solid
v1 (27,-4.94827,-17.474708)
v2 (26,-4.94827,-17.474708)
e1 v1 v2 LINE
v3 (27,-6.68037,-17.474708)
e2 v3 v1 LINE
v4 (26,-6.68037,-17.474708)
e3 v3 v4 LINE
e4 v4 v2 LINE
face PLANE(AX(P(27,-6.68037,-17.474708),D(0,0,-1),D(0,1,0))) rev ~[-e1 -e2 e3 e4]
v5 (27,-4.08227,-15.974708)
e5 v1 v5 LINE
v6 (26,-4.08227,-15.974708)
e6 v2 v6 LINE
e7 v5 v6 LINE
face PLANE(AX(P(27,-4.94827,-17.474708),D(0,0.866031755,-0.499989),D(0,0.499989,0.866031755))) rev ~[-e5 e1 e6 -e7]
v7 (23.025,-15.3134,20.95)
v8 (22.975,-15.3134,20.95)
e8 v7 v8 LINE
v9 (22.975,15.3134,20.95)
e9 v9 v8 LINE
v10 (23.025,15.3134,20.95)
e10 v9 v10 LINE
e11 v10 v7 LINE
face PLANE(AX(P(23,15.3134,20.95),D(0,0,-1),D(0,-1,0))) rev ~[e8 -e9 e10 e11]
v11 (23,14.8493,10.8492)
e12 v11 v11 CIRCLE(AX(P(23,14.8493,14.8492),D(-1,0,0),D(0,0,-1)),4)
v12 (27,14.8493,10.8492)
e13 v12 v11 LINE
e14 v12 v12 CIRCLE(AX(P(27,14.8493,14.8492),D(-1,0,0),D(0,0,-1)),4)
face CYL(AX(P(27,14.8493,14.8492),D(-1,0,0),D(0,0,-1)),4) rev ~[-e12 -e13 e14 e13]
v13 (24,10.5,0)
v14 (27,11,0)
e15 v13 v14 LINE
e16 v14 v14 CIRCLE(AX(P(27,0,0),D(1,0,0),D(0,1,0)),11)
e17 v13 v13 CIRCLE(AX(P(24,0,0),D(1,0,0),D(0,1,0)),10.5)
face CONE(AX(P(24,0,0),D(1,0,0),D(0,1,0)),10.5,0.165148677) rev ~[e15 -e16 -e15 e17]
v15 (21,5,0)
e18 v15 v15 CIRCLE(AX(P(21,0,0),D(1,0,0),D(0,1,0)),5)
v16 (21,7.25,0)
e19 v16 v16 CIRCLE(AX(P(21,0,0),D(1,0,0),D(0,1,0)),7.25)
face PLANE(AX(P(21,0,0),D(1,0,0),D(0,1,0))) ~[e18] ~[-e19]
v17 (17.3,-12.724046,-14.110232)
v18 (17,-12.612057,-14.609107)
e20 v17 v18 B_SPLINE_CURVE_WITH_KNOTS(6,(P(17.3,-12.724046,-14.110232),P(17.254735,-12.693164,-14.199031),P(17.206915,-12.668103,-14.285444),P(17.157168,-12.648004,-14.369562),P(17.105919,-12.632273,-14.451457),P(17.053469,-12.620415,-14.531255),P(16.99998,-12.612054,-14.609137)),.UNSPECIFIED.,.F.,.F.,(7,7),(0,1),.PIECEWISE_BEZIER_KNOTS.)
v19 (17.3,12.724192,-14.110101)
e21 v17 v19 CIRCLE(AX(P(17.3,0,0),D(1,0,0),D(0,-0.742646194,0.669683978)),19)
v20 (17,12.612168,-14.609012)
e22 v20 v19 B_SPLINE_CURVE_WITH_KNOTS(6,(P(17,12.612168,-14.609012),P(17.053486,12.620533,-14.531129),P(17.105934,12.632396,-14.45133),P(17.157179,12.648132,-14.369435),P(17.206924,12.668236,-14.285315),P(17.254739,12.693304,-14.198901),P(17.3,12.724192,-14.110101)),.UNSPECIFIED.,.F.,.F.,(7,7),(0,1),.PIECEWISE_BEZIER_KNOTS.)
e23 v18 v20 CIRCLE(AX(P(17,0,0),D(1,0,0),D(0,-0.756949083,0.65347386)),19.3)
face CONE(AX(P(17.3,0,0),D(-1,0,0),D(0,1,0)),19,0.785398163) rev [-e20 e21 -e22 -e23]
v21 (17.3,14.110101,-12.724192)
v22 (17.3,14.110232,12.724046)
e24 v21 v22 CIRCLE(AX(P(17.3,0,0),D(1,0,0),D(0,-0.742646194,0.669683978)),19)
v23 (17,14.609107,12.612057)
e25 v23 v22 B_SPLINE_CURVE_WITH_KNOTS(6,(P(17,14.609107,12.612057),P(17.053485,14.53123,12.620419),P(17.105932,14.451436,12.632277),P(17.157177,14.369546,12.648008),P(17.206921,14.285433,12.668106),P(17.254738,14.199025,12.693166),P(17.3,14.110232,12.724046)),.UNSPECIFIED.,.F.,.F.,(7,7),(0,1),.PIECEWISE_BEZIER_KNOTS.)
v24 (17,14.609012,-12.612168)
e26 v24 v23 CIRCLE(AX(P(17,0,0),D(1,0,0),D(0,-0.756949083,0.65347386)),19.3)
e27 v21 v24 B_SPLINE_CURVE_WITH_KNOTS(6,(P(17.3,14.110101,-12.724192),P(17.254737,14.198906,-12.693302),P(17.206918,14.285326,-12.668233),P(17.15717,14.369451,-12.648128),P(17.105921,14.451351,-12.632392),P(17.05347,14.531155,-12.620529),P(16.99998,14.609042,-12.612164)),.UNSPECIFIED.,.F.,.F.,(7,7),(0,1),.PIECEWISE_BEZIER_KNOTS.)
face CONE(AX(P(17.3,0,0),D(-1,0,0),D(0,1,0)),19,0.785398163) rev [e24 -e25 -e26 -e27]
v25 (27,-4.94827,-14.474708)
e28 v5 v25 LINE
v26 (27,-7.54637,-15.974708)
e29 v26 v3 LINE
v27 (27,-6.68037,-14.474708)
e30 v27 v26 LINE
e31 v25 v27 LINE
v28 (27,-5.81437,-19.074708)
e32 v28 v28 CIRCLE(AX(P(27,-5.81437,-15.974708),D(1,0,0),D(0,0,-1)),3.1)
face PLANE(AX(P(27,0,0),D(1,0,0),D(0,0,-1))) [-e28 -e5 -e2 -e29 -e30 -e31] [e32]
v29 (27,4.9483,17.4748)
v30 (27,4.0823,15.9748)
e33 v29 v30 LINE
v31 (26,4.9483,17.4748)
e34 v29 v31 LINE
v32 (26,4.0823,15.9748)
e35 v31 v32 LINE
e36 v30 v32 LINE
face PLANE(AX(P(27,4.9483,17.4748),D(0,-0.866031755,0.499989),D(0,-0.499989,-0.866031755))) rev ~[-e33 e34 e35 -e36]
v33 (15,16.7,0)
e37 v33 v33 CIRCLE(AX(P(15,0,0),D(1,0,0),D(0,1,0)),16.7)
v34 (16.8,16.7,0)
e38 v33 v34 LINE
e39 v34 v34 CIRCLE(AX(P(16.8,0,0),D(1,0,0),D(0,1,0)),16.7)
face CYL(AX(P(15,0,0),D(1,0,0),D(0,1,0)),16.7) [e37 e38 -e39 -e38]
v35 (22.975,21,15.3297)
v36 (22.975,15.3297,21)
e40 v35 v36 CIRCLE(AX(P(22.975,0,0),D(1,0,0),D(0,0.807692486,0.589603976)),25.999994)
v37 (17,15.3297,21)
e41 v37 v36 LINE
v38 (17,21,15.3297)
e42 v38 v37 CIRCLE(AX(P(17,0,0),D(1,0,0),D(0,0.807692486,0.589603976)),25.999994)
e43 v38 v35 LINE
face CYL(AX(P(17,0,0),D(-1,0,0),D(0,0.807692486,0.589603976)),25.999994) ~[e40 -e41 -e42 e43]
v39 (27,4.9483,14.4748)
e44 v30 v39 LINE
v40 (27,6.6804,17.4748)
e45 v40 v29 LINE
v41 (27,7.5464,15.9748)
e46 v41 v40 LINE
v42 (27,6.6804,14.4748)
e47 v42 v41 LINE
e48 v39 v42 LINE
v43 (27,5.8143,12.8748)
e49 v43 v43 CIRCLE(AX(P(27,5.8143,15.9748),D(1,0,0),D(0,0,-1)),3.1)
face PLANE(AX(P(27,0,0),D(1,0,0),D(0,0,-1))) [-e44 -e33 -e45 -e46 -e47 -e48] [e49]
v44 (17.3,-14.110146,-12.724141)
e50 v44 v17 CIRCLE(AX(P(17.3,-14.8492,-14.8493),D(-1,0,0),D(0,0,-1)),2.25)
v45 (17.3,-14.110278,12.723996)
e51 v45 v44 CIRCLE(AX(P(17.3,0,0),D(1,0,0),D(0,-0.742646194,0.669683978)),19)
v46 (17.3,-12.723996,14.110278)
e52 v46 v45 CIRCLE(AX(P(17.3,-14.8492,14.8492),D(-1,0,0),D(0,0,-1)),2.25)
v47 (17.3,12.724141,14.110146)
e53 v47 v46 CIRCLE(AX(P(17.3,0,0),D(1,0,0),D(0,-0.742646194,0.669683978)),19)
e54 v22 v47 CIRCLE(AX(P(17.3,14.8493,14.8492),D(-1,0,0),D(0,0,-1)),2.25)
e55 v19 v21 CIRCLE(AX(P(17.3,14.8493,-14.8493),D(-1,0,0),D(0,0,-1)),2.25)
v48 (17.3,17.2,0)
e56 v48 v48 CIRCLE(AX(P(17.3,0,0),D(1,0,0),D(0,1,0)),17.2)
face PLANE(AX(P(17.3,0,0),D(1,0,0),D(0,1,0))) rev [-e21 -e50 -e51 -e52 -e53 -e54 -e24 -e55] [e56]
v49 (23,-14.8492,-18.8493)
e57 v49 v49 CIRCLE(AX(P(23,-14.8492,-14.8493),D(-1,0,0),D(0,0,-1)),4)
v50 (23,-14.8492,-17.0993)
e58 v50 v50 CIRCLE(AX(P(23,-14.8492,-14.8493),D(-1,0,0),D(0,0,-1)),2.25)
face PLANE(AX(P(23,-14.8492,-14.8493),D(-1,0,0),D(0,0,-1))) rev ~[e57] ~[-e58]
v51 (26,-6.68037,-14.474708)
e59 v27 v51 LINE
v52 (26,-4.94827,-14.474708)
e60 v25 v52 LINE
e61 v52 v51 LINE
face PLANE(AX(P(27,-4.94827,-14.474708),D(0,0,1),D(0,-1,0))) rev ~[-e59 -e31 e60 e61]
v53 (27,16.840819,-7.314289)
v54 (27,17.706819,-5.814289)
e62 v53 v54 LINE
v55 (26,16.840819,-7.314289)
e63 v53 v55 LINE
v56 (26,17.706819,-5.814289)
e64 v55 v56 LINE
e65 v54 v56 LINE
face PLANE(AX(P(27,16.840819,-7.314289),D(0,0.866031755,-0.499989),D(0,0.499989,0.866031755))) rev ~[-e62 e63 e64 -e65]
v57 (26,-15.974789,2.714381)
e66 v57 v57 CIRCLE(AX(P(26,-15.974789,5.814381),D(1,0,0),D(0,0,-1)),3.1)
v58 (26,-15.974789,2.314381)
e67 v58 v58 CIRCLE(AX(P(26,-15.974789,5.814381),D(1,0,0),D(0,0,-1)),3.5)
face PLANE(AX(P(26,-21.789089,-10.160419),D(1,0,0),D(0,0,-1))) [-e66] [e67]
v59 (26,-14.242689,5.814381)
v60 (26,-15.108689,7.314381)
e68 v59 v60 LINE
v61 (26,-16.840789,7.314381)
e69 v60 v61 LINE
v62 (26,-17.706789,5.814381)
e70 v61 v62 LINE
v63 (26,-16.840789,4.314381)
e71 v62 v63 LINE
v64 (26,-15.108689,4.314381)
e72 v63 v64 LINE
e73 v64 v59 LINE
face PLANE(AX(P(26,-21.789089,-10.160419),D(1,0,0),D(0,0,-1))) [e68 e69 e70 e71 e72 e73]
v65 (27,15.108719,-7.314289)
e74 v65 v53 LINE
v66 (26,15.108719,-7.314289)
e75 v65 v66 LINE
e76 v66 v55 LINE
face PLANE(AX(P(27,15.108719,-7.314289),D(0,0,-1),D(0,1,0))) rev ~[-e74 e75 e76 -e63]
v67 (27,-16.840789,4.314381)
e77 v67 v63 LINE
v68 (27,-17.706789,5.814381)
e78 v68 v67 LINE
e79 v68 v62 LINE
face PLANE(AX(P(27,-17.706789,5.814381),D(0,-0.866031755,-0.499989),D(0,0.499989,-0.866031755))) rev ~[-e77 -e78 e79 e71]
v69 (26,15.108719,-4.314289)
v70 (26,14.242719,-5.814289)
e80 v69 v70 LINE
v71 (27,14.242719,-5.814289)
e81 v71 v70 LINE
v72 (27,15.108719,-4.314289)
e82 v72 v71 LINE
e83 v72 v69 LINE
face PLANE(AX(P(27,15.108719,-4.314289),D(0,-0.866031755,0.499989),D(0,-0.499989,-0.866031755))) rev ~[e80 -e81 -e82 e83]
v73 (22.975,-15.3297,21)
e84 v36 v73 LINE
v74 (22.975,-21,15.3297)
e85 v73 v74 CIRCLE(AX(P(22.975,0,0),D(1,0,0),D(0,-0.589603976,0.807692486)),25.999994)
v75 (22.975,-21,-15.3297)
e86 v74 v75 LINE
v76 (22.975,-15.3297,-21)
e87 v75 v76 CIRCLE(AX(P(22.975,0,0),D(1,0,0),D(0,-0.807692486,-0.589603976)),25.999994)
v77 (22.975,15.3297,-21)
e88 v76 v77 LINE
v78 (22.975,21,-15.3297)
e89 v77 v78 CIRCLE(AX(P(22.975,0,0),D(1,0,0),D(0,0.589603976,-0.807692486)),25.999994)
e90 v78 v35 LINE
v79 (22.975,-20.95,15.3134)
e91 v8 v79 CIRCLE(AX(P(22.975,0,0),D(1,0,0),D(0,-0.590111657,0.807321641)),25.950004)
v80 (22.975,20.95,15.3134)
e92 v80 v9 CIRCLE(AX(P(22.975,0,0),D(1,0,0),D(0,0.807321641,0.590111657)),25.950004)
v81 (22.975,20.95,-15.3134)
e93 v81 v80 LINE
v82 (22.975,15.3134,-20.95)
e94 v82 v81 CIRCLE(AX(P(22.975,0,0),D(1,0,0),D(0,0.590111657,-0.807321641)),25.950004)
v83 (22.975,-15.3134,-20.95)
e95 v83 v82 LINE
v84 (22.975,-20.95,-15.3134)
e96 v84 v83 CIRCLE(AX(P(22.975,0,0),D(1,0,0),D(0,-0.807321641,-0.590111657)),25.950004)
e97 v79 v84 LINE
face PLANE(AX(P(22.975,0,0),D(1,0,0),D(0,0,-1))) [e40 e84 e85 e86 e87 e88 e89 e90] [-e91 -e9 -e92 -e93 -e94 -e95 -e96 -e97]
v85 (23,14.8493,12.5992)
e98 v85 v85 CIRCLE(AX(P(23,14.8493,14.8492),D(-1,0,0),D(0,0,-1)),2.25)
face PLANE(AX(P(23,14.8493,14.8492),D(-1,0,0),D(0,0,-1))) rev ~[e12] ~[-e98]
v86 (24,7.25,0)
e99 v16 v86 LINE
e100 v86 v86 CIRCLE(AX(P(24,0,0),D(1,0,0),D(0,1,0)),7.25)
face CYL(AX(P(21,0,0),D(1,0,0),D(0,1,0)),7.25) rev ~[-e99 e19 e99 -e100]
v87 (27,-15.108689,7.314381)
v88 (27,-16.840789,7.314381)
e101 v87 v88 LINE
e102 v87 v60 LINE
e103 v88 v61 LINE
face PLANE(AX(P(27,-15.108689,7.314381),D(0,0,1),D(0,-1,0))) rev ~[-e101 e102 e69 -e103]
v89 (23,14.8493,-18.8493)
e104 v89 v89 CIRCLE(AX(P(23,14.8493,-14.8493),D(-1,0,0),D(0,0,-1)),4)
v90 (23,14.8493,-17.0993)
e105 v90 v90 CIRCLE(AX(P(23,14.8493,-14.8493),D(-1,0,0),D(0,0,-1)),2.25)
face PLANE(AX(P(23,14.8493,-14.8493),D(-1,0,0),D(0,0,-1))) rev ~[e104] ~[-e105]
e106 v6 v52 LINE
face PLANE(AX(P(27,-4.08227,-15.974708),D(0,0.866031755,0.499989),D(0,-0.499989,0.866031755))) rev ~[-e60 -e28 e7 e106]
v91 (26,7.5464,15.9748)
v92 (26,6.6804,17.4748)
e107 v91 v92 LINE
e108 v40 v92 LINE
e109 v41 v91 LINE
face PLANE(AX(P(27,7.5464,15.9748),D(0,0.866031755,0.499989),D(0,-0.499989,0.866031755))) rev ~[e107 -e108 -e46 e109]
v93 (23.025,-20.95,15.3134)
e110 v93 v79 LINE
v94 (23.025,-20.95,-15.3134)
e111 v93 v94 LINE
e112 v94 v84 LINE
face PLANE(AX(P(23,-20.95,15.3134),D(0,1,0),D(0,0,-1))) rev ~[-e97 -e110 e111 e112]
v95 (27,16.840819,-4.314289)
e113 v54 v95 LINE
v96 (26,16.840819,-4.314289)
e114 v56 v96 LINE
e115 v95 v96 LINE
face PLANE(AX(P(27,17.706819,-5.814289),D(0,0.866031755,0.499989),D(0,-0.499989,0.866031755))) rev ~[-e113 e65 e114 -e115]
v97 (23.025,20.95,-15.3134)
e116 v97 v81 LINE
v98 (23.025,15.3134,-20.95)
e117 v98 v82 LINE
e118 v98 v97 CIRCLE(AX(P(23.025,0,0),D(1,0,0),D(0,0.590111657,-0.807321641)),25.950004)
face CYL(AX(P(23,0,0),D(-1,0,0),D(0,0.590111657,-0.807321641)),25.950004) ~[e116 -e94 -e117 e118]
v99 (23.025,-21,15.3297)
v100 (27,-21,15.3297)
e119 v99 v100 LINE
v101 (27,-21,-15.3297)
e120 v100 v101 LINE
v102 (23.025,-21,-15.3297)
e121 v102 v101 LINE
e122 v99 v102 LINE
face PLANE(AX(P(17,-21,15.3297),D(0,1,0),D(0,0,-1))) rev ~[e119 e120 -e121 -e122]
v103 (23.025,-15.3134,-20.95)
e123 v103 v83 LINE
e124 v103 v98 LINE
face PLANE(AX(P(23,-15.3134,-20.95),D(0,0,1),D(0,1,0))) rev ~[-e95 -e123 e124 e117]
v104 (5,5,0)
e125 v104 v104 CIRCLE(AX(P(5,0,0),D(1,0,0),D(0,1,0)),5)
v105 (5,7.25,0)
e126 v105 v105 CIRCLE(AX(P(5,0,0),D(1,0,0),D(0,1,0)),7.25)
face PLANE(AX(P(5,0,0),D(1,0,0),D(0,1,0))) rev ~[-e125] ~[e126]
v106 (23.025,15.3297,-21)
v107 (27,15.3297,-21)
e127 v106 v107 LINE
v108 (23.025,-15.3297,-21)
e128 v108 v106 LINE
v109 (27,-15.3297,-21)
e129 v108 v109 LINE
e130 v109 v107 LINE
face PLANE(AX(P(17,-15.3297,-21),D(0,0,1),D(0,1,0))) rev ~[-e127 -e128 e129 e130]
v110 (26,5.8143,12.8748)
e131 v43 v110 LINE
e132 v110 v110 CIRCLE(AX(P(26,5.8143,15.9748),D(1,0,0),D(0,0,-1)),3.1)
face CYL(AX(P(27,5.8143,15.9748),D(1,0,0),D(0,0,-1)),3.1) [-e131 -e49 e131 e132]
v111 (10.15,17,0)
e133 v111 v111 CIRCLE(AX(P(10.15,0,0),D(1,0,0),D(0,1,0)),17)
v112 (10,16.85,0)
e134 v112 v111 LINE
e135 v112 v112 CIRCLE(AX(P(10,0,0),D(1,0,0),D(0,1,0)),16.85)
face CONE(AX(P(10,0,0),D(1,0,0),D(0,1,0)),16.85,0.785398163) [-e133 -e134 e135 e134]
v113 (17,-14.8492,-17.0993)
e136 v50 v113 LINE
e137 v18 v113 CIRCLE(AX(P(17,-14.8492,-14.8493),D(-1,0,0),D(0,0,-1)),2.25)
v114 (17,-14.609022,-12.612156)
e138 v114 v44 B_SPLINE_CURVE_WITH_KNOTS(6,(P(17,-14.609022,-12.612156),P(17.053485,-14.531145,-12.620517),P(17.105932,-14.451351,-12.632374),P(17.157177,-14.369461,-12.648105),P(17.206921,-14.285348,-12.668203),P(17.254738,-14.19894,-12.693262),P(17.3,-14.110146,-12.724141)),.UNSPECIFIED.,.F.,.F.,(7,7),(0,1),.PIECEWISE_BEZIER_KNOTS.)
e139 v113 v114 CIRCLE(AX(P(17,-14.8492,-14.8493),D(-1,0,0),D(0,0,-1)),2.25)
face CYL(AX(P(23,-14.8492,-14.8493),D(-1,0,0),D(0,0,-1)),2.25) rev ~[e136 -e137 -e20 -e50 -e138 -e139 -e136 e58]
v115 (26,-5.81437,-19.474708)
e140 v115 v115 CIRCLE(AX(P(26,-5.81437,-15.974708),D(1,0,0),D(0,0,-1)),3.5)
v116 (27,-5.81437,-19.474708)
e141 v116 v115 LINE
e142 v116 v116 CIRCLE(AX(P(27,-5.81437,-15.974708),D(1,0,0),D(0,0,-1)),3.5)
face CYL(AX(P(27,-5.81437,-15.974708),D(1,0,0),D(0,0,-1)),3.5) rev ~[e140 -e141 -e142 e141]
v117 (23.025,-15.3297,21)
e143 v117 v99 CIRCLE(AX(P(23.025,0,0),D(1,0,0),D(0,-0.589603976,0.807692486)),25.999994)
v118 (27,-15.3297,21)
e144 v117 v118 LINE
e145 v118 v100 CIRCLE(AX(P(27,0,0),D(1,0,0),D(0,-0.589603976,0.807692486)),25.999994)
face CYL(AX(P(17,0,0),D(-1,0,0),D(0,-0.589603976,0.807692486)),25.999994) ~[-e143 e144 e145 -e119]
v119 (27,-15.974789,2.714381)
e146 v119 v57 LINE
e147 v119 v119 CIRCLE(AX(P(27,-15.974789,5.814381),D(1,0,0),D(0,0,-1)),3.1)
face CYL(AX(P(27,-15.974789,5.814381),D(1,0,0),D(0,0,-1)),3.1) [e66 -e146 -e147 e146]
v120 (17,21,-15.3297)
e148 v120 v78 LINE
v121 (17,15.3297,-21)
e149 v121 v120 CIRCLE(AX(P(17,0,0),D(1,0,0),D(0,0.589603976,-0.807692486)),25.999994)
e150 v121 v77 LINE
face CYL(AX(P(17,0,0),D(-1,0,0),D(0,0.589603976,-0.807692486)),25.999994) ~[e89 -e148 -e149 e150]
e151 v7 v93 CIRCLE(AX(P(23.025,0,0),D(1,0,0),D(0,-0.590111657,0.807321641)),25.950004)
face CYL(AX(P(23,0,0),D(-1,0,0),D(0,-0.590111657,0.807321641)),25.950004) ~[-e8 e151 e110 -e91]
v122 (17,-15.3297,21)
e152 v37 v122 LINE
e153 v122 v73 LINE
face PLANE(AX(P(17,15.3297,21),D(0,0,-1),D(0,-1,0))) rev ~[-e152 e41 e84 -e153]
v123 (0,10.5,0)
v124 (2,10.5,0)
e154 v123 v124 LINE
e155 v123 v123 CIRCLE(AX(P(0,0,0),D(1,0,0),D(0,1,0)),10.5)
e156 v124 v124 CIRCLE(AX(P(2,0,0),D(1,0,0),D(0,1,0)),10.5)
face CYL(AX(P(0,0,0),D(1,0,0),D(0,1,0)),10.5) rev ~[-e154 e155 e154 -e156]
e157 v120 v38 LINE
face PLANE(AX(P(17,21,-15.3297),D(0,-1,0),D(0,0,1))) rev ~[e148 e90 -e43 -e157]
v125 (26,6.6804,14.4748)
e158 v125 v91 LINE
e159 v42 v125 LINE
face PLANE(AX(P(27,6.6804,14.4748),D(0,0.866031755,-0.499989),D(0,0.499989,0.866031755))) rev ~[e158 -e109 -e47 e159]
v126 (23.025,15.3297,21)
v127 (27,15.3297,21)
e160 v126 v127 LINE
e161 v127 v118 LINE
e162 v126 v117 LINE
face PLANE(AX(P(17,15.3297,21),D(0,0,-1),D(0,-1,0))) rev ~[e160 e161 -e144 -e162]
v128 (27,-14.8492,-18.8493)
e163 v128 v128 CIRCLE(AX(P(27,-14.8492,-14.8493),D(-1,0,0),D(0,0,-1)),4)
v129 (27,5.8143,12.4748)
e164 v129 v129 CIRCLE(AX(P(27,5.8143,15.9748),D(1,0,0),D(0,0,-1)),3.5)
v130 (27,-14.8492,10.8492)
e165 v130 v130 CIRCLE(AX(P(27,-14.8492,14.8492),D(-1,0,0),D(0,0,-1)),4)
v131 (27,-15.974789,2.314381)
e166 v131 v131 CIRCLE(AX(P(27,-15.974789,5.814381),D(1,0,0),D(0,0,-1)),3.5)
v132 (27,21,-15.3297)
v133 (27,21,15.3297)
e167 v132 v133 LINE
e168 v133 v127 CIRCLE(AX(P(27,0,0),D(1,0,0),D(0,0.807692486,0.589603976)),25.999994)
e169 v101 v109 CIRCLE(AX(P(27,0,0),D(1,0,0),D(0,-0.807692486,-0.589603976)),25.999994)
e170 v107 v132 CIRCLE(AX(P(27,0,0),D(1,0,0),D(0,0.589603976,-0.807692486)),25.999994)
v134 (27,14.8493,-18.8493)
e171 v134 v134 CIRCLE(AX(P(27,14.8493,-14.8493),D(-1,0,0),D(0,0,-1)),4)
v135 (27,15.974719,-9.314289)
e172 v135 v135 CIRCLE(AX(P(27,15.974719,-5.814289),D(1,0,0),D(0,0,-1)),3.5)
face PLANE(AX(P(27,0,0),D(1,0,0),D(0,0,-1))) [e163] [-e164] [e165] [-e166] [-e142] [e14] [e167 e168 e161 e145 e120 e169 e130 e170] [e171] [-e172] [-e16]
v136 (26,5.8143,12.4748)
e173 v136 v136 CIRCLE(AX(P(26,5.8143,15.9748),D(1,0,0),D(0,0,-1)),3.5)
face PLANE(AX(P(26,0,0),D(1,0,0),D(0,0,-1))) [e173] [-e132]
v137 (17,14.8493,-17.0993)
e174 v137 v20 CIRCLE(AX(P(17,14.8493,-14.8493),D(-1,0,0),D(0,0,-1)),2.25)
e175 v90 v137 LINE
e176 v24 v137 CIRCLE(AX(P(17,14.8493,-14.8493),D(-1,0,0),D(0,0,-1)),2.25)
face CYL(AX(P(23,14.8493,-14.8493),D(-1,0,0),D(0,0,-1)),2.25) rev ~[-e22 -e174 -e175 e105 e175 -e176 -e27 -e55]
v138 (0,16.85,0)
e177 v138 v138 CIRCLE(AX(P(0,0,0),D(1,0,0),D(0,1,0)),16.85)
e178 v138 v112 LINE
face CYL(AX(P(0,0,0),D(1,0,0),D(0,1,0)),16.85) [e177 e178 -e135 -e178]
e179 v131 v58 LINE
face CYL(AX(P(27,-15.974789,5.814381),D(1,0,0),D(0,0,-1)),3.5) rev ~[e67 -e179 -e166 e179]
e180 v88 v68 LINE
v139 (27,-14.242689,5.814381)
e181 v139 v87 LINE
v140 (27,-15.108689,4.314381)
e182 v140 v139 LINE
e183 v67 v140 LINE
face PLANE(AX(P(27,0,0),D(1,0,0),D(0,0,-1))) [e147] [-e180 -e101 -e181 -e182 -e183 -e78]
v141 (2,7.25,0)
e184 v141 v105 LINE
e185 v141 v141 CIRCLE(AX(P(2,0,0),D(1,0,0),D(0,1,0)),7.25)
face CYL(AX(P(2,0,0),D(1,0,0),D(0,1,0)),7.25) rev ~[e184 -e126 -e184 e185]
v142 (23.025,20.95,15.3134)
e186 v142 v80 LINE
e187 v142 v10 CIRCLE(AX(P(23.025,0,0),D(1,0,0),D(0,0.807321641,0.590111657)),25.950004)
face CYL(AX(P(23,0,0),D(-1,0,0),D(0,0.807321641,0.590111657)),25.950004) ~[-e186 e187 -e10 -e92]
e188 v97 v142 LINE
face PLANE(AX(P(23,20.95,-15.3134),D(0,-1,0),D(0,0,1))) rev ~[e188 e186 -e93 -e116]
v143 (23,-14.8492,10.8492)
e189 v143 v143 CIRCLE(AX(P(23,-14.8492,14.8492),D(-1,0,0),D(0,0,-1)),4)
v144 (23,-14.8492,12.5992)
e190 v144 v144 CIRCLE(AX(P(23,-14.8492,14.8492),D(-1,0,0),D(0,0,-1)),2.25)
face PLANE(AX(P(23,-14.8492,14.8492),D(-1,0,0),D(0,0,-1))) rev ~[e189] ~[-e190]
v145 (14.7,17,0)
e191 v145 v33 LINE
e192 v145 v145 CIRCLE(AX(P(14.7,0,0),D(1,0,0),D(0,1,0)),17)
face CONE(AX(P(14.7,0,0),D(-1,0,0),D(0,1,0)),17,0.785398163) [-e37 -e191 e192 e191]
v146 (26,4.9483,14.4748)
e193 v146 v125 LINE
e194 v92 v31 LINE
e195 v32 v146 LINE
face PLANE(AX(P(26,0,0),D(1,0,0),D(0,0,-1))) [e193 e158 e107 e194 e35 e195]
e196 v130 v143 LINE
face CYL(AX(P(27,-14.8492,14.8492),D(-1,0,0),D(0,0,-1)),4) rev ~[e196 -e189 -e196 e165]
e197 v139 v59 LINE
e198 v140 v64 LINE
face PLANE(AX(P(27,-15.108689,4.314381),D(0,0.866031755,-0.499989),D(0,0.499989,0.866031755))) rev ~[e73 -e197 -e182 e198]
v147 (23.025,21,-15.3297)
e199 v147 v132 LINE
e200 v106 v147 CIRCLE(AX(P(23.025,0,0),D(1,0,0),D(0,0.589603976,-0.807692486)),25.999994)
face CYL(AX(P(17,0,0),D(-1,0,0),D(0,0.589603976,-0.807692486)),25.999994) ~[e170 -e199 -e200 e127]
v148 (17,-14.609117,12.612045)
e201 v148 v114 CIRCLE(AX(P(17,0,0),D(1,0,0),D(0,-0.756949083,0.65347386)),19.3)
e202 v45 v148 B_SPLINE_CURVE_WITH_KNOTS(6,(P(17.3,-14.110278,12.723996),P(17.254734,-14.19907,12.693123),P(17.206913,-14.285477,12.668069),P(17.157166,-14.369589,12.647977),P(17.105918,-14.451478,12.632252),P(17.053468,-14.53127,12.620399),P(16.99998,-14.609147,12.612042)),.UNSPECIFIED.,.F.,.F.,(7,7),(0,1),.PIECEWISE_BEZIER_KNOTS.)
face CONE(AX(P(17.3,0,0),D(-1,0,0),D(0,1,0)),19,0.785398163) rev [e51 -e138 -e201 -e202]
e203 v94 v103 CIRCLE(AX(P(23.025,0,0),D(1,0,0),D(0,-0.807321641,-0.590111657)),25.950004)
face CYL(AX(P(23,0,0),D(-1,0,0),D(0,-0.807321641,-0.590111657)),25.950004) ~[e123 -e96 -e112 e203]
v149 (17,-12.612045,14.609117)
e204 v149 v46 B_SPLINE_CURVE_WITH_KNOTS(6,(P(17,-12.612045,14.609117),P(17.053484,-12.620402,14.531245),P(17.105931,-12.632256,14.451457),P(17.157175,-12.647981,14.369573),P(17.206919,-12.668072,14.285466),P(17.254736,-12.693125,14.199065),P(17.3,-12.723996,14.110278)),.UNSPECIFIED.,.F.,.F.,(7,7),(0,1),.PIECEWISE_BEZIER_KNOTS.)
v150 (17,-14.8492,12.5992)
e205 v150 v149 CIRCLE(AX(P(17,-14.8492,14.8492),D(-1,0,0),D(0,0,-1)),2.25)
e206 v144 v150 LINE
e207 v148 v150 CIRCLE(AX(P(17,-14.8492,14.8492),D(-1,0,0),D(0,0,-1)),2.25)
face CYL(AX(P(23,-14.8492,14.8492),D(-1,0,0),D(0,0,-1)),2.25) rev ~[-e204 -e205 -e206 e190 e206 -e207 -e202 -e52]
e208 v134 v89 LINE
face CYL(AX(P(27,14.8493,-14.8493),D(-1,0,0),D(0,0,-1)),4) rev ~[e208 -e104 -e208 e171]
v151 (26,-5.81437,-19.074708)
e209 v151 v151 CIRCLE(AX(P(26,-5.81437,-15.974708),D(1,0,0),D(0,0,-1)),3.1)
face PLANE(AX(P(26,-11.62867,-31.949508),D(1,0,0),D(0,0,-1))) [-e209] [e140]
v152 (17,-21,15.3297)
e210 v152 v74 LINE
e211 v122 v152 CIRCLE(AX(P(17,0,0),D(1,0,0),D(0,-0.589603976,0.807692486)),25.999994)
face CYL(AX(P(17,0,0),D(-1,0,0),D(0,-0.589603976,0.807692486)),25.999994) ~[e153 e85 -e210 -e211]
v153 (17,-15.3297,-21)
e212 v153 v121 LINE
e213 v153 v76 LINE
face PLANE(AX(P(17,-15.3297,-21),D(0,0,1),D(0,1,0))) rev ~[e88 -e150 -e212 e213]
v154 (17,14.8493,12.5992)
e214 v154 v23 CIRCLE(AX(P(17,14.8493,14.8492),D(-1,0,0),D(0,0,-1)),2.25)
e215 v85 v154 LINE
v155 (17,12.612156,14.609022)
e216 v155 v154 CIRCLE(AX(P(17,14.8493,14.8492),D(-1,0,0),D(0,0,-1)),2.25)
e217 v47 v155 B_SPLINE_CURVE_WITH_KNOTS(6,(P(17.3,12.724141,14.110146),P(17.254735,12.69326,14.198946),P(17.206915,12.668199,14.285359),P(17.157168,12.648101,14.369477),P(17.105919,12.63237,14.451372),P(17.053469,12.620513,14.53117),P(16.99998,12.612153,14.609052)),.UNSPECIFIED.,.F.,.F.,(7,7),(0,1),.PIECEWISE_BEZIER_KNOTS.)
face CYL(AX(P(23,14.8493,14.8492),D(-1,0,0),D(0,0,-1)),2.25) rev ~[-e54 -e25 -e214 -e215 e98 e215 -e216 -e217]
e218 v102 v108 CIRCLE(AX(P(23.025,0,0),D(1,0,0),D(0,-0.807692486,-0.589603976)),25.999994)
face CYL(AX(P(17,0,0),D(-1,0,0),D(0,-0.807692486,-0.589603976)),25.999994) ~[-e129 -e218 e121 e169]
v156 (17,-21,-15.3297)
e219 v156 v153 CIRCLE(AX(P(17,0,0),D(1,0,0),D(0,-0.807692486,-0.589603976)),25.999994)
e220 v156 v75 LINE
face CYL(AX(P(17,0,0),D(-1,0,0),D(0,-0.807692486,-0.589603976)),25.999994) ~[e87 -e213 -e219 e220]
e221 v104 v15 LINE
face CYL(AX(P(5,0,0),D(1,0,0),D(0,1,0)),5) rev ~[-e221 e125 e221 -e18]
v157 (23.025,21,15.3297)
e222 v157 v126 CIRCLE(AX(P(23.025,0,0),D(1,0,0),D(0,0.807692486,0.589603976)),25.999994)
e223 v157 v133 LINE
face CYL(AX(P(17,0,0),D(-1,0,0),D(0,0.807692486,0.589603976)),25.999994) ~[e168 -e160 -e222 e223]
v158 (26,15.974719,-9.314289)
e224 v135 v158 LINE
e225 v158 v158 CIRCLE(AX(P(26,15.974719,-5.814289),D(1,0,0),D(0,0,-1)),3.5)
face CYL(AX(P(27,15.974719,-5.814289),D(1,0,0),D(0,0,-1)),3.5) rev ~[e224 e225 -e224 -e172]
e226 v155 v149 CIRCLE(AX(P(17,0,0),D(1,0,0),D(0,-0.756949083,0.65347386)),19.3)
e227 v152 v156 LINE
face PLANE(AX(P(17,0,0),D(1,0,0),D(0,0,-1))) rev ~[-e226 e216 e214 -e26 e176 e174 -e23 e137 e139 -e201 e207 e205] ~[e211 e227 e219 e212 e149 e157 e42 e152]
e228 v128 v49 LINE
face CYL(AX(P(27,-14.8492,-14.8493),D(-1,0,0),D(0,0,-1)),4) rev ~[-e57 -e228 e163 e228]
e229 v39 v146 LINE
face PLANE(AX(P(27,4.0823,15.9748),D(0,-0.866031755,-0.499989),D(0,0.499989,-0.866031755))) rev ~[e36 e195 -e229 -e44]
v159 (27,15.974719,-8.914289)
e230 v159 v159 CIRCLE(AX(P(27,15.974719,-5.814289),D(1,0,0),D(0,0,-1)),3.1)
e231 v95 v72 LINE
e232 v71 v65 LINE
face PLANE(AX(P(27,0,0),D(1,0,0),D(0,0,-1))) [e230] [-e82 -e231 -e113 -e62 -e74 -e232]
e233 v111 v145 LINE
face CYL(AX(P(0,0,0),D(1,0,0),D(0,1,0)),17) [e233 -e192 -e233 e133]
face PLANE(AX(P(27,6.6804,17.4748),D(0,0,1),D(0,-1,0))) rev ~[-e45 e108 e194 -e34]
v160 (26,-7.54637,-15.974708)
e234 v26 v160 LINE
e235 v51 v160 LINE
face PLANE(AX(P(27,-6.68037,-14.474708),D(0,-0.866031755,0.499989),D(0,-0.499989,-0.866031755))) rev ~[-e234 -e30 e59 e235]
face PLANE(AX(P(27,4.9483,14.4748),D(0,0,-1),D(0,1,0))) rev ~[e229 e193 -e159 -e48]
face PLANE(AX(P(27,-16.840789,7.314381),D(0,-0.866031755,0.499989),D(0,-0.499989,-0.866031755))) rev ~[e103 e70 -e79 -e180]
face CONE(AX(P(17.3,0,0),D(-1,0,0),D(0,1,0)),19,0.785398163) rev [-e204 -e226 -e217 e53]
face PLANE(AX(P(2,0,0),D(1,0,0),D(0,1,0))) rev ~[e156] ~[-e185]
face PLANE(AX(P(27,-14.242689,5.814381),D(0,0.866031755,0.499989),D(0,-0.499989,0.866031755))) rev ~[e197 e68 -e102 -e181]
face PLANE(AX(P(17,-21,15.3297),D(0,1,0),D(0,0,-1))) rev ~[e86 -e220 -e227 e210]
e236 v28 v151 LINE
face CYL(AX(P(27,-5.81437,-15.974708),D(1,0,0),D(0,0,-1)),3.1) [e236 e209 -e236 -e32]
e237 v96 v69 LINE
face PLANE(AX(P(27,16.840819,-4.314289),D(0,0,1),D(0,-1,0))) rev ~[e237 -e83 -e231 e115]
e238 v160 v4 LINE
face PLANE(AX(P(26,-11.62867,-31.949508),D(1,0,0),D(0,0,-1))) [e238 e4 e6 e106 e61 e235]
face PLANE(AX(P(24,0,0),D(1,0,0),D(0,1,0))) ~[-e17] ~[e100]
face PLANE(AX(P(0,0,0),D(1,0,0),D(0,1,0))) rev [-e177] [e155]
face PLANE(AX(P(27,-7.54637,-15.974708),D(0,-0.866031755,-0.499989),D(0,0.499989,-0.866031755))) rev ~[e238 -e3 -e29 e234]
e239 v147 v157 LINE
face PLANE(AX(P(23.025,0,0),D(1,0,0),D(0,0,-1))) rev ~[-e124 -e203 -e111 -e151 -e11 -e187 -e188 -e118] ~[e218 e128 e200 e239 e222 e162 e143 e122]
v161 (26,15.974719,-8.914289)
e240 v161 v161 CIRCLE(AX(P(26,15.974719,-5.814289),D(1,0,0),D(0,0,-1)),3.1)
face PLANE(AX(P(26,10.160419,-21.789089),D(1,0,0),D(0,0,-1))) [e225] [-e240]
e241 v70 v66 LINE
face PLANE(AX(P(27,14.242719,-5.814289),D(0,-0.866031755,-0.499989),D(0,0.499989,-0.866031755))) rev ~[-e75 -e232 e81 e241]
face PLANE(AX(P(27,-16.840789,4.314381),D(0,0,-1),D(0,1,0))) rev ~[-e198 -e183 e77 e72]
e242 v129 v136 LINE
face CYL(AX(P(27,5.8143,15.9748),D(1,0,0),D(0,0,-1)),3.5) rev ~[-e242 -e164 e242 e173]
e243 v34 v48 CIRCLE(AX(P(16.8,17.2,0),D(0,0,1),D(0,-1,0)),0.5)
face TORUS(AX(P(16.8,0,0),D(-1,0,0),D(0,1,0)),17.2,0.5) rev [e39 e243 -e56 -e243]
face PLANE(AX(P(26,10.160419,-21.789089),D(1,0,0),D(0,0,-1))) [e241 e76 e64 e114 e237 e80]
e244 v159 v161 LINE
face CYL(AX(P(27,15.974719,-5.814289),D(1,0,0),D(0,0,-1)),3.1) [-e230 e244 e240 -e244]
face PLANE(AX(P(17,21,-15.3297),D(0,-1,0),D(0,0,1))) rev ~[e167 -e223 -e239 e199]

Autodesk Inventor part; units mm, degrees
sketch "Sketch_1" plane through (0, 0, 0) normal (0, 0, 1) x (1, 0, 0)
  line L0 (17, 0) -> (0, 0)
  line L1 (0, 0) -> (0, 17)
  line L2 (0, 17) -> (16.7, 17)
  arc A0 (16.7, 17) -> (17, 17.3) centre (16.7, 17.3) ccw
  line L3 (17, 17.3) -> (17, 0)
  line L4 (17, 0) -> (0, 0)
revolve "Revolution1" add sketch "Sketch_1" angle 360 about axis through (17, 0, 0) along (1, 0, 0)
sketch "Sketch_2" plane through (17, 0, 0) normal (1, 0, 0) x (0, 0, -1)
  line L0 (-21, 15.3297) -> (-21, -15.3297)
  arc A0 (-21, -15.3297) -> (-15.3297, -21) centre (0, 0) ccw
  line L1 (-15.3297, -21) -> (15.3297, -21)
  arc A1 (15.3297, -21) -> (21, -15.3297) centre (0, 0) ccw
  line L2 (21, -15.3297) -> (21, 15.3297)
  arc A2 (21, 15.3297) -> (15.3297, 21) centre (0, 0) ccw
  line L3 (15.3297, 21) -> (-15.3297, 21)
  arc A3 (-15.3297, 21) -> (-21, 15.3297) centre (0, 0) ccw
extrude "Extrusion1" add sketch "Sketch_2" along normal blind 10
sketch "_____4" plane through (0, 0, 0) normal (0, 0, 1) x (1, 0, 0)
  line L0 (54, 0) -> (-54, 0)
  line L1 (14.7, 17) -> (15, 16.7)
  line L2 (15, 16.7) -> (16.8, 16.7)
  arc A0 (16.8, 16.7) -> (17.3, 17.2) centre (16.8, 17.2) ccw
  line L3 (17.3, 17.2) -> (17.3, 19)
  line L4 (17.3, 19) -> (17, 19.3)
  line L5 (17, 19.3) -> (14.7, 17)
revolve "Revolution2" cut sketch "_____4" angle 360 about axis through (54, 0, 0) along (1, 0, 0)
sketch "_____5" plane through (0, 0, 0) normal (0, 0, 1) x (1, 0, 0)
  line L0 (54, 0) -> (-54, 0)
  line L1 (0, 17) -> (0, 16.85)
  line L2 (0, 16.85) -> (10, 16.85)
  line L3 (10, 16.85) -> (10.15, 17)
  line L4 (10.15, 17) -> (0, 17)
revolve "Revolution3" cut sketch "_____5" angle 360 about axis through (54, 0, 0) along (1, 0, 0)
sketch "Sketch_5" plane through (0, 0, 0) normal (0, 0, 1) x (1, 0, 0)
  line L0 (27, 0) -> (0, 0)
  line L1 (0, 0) -> (0, 10.5)
  line L2 (0, 10.5) -> (2, 10.5)
  line L3 (2, 10.5) -> (2, 7.25)
  line L4 (2, 7.25) -> (5, 7.25)
  line L5 (5, 7.25) -> (5, 5)
  line L6 (5, 5) -> (21, 5)
  line L7 (21, 5) -> (21, 7.25)
  line L8 (21, 7.25) -> (24, 7.25)
  line L9 (24, 7.25) -> (24, 10.5)
  line L10 (24, 10.5) -> (27, 11)
  line L11 (27, 11) -> (27, 0)
  line L12 (27, 0) -> (0, 0)
revolve "Revolution4" cut sketch "Sketch_5" angle 360 about axis through (27, 0, 0) along (1, 0, 0)
sketch "Sketch6" plane through (27, 0, 0) normal (1, 0, 0) x (0, 0, -1)
  point P0 (-14.8492, -14.8492)
hole "Hole1" at (27, -14.8492, 14.8492) direction (-1, 0, 0) diameter 4.5 depth 10 counterbore diameter 8 counterbore depth 4
pattern_linear "Rectangular Pattern1" count 2 spacing 29.6985 along (0, 0, -1) count 2 spacing 29.6985 along (0, 1, 0) of "Hole1"
sketch "Sketch_9" plane through (23, 0, 0) normal (1, 0, 0) x (0, 0, -1)
  line L0 (-21, 15.3297) -> (-21, -15.3297)
  arc A0 (-21, -15.3297) -> (-15.3297, -21) centre (0, 0) ccw
  line L1 (-15.3297, -21) -> (15.3297, -21)
  arc A1 (15.3297, -21) -> (21, -15.3297) centre (0, 0) ccw
  line L2 (21, -15.3297) -> (21, 15.3297)
  arc A2 (21, 15.3297) -> (15.3297, 21) centre (0, 0) ccw
  line L3 (15.3297, 21) -> (-15.3297, 21)
  arc A3 (-15.3297, 21) -> (-21, 15.3297) centre (0, 0) ccw
  line L4 (-20.95, 15.3134) -> (-20.95, -15.3134)
  arc A4 (-20.95, -15.3134) -> (-15.3134, -20.95) centre (0, 0) ccw
  line L5 (-15.3134, -20.95) -> (15.3134, -20.95)
  arc A5 (15.3134, -20.95) -> (20.95, -15.3134) centre (0, 0) ccw
  line L6 (20.95, -15.3134) -> (20.95, 15.3134)
  arc A6 (20.95, 15.3134) -> (15.3134, 20.95) centre (0, 0) ccw
  line L7 (15.3134, 20.95) -> (-15.3134, 20.95)
  arc A7 (-15.3134, 20.95) -> (-20.95, 15.3134) centre (0, 0) ccw
extrude "Extrusion2" cut sketch "Sketch_9" along normal mid plane 0.05
sketch "Sketch_10" plane through (27, 0, 0) normal (1, 0, 0) x (0, 0, -1)
  circle A0 centre (-15.9748, 5.8143) radius 3.5
  circle A1 centre (-15.9748, 5.8143) radius 3.1
extrude "Extrusion3" cut sketch "Sketch_10" against normal blind 1
pattern_linear "Rectangular Pattern2" count 2 spacing 24.0416 along (0, 0.4226, -0.9063) count 2 spacing 24.0416 along (0, -0.9063, -0.4226) of "Extrusion3"
sketch "Sketch_12" plane through (27, 0, 0) normal (1, 0, 0) x (0, 0, -1)
  line L0 (-17.4748, 4.9483) -> (-15.9748, 4.0823)
  line L1 (-15.9748, 4.0823) -> (-14.4748, 4.9483)
  line L2 (-14.4748, 4.9483) -> (-14.4748, 6.6804)
  line L3 (-14.4748, 6.6804) -> (-15.9748, 7.5464)
  line L4 (-15.9748, 7.5464) -> (-17.4748, 6.6804)
  line L5 (-17.4748, 6.6804) -> (-17.4748, 4.9483)
extrude "Extrusion4" cut sketch "Sketch_12" against normal blind 1
pattern_linear "Rectangular Pattern3" count 2 spacing 24.0416 along (0, 0.4226, -0.9063) count 2 spacing 24.0416 along (0, -0.9063, -0.4226) of "Extrusion4"
ref_plane "_to_bjs_XY" through (27, 0, 0) normal (1, 0, 0) x (0, 0, -1)
ref_plane "_to_bjs_YZ" through (27, 0, 0) normal (0, 0, -1) x (0, 1, 0)
ref_plane "_to_bjs_ZX" through (27, 0, 0) normal (0, 1, 0) x (1, 0, 0)
ref_plane "to_collar_XY" through (21, 0, 0) normal (-1, 0, 0) x (0, 0, -1)
ref_plane "to_collar_YZ" through (21, 0, 0) normal (0, 0, -1) x (0, -1, 0)
ref_plane "to_collar_ZX" through (21, 0, 0) normal (0, -1, 0) x (-1, 0, 0)
ref_plane "to_collar_2_XY" through (5, 0, 0) normal (1, 0, 0) x (0, 0, -1)
ref_plane "to_collar_2_YZ" through (5, 0, 0) normal (0, 0, -1) x (0, 1, 0)
ref_plane "to_collar_2_ZX" through (5, 0, 0) normal (0, 1, 0) x (1, 0, 0)
ref_plane "to_dummy_XY" through (0, 0, 0) normal (1, 0, 0) x (0, 0, -1)
ref_plane "to_dummy_YZ" through (0, 0, 0) normal (0, 0, -1) x (0, 1, 0)
ref_plane "to_dummy_ZX" through (0, 0, 0) normal (0, 1, 0) x (1, 0, 0)
properties part number "C-TFK10_b"
